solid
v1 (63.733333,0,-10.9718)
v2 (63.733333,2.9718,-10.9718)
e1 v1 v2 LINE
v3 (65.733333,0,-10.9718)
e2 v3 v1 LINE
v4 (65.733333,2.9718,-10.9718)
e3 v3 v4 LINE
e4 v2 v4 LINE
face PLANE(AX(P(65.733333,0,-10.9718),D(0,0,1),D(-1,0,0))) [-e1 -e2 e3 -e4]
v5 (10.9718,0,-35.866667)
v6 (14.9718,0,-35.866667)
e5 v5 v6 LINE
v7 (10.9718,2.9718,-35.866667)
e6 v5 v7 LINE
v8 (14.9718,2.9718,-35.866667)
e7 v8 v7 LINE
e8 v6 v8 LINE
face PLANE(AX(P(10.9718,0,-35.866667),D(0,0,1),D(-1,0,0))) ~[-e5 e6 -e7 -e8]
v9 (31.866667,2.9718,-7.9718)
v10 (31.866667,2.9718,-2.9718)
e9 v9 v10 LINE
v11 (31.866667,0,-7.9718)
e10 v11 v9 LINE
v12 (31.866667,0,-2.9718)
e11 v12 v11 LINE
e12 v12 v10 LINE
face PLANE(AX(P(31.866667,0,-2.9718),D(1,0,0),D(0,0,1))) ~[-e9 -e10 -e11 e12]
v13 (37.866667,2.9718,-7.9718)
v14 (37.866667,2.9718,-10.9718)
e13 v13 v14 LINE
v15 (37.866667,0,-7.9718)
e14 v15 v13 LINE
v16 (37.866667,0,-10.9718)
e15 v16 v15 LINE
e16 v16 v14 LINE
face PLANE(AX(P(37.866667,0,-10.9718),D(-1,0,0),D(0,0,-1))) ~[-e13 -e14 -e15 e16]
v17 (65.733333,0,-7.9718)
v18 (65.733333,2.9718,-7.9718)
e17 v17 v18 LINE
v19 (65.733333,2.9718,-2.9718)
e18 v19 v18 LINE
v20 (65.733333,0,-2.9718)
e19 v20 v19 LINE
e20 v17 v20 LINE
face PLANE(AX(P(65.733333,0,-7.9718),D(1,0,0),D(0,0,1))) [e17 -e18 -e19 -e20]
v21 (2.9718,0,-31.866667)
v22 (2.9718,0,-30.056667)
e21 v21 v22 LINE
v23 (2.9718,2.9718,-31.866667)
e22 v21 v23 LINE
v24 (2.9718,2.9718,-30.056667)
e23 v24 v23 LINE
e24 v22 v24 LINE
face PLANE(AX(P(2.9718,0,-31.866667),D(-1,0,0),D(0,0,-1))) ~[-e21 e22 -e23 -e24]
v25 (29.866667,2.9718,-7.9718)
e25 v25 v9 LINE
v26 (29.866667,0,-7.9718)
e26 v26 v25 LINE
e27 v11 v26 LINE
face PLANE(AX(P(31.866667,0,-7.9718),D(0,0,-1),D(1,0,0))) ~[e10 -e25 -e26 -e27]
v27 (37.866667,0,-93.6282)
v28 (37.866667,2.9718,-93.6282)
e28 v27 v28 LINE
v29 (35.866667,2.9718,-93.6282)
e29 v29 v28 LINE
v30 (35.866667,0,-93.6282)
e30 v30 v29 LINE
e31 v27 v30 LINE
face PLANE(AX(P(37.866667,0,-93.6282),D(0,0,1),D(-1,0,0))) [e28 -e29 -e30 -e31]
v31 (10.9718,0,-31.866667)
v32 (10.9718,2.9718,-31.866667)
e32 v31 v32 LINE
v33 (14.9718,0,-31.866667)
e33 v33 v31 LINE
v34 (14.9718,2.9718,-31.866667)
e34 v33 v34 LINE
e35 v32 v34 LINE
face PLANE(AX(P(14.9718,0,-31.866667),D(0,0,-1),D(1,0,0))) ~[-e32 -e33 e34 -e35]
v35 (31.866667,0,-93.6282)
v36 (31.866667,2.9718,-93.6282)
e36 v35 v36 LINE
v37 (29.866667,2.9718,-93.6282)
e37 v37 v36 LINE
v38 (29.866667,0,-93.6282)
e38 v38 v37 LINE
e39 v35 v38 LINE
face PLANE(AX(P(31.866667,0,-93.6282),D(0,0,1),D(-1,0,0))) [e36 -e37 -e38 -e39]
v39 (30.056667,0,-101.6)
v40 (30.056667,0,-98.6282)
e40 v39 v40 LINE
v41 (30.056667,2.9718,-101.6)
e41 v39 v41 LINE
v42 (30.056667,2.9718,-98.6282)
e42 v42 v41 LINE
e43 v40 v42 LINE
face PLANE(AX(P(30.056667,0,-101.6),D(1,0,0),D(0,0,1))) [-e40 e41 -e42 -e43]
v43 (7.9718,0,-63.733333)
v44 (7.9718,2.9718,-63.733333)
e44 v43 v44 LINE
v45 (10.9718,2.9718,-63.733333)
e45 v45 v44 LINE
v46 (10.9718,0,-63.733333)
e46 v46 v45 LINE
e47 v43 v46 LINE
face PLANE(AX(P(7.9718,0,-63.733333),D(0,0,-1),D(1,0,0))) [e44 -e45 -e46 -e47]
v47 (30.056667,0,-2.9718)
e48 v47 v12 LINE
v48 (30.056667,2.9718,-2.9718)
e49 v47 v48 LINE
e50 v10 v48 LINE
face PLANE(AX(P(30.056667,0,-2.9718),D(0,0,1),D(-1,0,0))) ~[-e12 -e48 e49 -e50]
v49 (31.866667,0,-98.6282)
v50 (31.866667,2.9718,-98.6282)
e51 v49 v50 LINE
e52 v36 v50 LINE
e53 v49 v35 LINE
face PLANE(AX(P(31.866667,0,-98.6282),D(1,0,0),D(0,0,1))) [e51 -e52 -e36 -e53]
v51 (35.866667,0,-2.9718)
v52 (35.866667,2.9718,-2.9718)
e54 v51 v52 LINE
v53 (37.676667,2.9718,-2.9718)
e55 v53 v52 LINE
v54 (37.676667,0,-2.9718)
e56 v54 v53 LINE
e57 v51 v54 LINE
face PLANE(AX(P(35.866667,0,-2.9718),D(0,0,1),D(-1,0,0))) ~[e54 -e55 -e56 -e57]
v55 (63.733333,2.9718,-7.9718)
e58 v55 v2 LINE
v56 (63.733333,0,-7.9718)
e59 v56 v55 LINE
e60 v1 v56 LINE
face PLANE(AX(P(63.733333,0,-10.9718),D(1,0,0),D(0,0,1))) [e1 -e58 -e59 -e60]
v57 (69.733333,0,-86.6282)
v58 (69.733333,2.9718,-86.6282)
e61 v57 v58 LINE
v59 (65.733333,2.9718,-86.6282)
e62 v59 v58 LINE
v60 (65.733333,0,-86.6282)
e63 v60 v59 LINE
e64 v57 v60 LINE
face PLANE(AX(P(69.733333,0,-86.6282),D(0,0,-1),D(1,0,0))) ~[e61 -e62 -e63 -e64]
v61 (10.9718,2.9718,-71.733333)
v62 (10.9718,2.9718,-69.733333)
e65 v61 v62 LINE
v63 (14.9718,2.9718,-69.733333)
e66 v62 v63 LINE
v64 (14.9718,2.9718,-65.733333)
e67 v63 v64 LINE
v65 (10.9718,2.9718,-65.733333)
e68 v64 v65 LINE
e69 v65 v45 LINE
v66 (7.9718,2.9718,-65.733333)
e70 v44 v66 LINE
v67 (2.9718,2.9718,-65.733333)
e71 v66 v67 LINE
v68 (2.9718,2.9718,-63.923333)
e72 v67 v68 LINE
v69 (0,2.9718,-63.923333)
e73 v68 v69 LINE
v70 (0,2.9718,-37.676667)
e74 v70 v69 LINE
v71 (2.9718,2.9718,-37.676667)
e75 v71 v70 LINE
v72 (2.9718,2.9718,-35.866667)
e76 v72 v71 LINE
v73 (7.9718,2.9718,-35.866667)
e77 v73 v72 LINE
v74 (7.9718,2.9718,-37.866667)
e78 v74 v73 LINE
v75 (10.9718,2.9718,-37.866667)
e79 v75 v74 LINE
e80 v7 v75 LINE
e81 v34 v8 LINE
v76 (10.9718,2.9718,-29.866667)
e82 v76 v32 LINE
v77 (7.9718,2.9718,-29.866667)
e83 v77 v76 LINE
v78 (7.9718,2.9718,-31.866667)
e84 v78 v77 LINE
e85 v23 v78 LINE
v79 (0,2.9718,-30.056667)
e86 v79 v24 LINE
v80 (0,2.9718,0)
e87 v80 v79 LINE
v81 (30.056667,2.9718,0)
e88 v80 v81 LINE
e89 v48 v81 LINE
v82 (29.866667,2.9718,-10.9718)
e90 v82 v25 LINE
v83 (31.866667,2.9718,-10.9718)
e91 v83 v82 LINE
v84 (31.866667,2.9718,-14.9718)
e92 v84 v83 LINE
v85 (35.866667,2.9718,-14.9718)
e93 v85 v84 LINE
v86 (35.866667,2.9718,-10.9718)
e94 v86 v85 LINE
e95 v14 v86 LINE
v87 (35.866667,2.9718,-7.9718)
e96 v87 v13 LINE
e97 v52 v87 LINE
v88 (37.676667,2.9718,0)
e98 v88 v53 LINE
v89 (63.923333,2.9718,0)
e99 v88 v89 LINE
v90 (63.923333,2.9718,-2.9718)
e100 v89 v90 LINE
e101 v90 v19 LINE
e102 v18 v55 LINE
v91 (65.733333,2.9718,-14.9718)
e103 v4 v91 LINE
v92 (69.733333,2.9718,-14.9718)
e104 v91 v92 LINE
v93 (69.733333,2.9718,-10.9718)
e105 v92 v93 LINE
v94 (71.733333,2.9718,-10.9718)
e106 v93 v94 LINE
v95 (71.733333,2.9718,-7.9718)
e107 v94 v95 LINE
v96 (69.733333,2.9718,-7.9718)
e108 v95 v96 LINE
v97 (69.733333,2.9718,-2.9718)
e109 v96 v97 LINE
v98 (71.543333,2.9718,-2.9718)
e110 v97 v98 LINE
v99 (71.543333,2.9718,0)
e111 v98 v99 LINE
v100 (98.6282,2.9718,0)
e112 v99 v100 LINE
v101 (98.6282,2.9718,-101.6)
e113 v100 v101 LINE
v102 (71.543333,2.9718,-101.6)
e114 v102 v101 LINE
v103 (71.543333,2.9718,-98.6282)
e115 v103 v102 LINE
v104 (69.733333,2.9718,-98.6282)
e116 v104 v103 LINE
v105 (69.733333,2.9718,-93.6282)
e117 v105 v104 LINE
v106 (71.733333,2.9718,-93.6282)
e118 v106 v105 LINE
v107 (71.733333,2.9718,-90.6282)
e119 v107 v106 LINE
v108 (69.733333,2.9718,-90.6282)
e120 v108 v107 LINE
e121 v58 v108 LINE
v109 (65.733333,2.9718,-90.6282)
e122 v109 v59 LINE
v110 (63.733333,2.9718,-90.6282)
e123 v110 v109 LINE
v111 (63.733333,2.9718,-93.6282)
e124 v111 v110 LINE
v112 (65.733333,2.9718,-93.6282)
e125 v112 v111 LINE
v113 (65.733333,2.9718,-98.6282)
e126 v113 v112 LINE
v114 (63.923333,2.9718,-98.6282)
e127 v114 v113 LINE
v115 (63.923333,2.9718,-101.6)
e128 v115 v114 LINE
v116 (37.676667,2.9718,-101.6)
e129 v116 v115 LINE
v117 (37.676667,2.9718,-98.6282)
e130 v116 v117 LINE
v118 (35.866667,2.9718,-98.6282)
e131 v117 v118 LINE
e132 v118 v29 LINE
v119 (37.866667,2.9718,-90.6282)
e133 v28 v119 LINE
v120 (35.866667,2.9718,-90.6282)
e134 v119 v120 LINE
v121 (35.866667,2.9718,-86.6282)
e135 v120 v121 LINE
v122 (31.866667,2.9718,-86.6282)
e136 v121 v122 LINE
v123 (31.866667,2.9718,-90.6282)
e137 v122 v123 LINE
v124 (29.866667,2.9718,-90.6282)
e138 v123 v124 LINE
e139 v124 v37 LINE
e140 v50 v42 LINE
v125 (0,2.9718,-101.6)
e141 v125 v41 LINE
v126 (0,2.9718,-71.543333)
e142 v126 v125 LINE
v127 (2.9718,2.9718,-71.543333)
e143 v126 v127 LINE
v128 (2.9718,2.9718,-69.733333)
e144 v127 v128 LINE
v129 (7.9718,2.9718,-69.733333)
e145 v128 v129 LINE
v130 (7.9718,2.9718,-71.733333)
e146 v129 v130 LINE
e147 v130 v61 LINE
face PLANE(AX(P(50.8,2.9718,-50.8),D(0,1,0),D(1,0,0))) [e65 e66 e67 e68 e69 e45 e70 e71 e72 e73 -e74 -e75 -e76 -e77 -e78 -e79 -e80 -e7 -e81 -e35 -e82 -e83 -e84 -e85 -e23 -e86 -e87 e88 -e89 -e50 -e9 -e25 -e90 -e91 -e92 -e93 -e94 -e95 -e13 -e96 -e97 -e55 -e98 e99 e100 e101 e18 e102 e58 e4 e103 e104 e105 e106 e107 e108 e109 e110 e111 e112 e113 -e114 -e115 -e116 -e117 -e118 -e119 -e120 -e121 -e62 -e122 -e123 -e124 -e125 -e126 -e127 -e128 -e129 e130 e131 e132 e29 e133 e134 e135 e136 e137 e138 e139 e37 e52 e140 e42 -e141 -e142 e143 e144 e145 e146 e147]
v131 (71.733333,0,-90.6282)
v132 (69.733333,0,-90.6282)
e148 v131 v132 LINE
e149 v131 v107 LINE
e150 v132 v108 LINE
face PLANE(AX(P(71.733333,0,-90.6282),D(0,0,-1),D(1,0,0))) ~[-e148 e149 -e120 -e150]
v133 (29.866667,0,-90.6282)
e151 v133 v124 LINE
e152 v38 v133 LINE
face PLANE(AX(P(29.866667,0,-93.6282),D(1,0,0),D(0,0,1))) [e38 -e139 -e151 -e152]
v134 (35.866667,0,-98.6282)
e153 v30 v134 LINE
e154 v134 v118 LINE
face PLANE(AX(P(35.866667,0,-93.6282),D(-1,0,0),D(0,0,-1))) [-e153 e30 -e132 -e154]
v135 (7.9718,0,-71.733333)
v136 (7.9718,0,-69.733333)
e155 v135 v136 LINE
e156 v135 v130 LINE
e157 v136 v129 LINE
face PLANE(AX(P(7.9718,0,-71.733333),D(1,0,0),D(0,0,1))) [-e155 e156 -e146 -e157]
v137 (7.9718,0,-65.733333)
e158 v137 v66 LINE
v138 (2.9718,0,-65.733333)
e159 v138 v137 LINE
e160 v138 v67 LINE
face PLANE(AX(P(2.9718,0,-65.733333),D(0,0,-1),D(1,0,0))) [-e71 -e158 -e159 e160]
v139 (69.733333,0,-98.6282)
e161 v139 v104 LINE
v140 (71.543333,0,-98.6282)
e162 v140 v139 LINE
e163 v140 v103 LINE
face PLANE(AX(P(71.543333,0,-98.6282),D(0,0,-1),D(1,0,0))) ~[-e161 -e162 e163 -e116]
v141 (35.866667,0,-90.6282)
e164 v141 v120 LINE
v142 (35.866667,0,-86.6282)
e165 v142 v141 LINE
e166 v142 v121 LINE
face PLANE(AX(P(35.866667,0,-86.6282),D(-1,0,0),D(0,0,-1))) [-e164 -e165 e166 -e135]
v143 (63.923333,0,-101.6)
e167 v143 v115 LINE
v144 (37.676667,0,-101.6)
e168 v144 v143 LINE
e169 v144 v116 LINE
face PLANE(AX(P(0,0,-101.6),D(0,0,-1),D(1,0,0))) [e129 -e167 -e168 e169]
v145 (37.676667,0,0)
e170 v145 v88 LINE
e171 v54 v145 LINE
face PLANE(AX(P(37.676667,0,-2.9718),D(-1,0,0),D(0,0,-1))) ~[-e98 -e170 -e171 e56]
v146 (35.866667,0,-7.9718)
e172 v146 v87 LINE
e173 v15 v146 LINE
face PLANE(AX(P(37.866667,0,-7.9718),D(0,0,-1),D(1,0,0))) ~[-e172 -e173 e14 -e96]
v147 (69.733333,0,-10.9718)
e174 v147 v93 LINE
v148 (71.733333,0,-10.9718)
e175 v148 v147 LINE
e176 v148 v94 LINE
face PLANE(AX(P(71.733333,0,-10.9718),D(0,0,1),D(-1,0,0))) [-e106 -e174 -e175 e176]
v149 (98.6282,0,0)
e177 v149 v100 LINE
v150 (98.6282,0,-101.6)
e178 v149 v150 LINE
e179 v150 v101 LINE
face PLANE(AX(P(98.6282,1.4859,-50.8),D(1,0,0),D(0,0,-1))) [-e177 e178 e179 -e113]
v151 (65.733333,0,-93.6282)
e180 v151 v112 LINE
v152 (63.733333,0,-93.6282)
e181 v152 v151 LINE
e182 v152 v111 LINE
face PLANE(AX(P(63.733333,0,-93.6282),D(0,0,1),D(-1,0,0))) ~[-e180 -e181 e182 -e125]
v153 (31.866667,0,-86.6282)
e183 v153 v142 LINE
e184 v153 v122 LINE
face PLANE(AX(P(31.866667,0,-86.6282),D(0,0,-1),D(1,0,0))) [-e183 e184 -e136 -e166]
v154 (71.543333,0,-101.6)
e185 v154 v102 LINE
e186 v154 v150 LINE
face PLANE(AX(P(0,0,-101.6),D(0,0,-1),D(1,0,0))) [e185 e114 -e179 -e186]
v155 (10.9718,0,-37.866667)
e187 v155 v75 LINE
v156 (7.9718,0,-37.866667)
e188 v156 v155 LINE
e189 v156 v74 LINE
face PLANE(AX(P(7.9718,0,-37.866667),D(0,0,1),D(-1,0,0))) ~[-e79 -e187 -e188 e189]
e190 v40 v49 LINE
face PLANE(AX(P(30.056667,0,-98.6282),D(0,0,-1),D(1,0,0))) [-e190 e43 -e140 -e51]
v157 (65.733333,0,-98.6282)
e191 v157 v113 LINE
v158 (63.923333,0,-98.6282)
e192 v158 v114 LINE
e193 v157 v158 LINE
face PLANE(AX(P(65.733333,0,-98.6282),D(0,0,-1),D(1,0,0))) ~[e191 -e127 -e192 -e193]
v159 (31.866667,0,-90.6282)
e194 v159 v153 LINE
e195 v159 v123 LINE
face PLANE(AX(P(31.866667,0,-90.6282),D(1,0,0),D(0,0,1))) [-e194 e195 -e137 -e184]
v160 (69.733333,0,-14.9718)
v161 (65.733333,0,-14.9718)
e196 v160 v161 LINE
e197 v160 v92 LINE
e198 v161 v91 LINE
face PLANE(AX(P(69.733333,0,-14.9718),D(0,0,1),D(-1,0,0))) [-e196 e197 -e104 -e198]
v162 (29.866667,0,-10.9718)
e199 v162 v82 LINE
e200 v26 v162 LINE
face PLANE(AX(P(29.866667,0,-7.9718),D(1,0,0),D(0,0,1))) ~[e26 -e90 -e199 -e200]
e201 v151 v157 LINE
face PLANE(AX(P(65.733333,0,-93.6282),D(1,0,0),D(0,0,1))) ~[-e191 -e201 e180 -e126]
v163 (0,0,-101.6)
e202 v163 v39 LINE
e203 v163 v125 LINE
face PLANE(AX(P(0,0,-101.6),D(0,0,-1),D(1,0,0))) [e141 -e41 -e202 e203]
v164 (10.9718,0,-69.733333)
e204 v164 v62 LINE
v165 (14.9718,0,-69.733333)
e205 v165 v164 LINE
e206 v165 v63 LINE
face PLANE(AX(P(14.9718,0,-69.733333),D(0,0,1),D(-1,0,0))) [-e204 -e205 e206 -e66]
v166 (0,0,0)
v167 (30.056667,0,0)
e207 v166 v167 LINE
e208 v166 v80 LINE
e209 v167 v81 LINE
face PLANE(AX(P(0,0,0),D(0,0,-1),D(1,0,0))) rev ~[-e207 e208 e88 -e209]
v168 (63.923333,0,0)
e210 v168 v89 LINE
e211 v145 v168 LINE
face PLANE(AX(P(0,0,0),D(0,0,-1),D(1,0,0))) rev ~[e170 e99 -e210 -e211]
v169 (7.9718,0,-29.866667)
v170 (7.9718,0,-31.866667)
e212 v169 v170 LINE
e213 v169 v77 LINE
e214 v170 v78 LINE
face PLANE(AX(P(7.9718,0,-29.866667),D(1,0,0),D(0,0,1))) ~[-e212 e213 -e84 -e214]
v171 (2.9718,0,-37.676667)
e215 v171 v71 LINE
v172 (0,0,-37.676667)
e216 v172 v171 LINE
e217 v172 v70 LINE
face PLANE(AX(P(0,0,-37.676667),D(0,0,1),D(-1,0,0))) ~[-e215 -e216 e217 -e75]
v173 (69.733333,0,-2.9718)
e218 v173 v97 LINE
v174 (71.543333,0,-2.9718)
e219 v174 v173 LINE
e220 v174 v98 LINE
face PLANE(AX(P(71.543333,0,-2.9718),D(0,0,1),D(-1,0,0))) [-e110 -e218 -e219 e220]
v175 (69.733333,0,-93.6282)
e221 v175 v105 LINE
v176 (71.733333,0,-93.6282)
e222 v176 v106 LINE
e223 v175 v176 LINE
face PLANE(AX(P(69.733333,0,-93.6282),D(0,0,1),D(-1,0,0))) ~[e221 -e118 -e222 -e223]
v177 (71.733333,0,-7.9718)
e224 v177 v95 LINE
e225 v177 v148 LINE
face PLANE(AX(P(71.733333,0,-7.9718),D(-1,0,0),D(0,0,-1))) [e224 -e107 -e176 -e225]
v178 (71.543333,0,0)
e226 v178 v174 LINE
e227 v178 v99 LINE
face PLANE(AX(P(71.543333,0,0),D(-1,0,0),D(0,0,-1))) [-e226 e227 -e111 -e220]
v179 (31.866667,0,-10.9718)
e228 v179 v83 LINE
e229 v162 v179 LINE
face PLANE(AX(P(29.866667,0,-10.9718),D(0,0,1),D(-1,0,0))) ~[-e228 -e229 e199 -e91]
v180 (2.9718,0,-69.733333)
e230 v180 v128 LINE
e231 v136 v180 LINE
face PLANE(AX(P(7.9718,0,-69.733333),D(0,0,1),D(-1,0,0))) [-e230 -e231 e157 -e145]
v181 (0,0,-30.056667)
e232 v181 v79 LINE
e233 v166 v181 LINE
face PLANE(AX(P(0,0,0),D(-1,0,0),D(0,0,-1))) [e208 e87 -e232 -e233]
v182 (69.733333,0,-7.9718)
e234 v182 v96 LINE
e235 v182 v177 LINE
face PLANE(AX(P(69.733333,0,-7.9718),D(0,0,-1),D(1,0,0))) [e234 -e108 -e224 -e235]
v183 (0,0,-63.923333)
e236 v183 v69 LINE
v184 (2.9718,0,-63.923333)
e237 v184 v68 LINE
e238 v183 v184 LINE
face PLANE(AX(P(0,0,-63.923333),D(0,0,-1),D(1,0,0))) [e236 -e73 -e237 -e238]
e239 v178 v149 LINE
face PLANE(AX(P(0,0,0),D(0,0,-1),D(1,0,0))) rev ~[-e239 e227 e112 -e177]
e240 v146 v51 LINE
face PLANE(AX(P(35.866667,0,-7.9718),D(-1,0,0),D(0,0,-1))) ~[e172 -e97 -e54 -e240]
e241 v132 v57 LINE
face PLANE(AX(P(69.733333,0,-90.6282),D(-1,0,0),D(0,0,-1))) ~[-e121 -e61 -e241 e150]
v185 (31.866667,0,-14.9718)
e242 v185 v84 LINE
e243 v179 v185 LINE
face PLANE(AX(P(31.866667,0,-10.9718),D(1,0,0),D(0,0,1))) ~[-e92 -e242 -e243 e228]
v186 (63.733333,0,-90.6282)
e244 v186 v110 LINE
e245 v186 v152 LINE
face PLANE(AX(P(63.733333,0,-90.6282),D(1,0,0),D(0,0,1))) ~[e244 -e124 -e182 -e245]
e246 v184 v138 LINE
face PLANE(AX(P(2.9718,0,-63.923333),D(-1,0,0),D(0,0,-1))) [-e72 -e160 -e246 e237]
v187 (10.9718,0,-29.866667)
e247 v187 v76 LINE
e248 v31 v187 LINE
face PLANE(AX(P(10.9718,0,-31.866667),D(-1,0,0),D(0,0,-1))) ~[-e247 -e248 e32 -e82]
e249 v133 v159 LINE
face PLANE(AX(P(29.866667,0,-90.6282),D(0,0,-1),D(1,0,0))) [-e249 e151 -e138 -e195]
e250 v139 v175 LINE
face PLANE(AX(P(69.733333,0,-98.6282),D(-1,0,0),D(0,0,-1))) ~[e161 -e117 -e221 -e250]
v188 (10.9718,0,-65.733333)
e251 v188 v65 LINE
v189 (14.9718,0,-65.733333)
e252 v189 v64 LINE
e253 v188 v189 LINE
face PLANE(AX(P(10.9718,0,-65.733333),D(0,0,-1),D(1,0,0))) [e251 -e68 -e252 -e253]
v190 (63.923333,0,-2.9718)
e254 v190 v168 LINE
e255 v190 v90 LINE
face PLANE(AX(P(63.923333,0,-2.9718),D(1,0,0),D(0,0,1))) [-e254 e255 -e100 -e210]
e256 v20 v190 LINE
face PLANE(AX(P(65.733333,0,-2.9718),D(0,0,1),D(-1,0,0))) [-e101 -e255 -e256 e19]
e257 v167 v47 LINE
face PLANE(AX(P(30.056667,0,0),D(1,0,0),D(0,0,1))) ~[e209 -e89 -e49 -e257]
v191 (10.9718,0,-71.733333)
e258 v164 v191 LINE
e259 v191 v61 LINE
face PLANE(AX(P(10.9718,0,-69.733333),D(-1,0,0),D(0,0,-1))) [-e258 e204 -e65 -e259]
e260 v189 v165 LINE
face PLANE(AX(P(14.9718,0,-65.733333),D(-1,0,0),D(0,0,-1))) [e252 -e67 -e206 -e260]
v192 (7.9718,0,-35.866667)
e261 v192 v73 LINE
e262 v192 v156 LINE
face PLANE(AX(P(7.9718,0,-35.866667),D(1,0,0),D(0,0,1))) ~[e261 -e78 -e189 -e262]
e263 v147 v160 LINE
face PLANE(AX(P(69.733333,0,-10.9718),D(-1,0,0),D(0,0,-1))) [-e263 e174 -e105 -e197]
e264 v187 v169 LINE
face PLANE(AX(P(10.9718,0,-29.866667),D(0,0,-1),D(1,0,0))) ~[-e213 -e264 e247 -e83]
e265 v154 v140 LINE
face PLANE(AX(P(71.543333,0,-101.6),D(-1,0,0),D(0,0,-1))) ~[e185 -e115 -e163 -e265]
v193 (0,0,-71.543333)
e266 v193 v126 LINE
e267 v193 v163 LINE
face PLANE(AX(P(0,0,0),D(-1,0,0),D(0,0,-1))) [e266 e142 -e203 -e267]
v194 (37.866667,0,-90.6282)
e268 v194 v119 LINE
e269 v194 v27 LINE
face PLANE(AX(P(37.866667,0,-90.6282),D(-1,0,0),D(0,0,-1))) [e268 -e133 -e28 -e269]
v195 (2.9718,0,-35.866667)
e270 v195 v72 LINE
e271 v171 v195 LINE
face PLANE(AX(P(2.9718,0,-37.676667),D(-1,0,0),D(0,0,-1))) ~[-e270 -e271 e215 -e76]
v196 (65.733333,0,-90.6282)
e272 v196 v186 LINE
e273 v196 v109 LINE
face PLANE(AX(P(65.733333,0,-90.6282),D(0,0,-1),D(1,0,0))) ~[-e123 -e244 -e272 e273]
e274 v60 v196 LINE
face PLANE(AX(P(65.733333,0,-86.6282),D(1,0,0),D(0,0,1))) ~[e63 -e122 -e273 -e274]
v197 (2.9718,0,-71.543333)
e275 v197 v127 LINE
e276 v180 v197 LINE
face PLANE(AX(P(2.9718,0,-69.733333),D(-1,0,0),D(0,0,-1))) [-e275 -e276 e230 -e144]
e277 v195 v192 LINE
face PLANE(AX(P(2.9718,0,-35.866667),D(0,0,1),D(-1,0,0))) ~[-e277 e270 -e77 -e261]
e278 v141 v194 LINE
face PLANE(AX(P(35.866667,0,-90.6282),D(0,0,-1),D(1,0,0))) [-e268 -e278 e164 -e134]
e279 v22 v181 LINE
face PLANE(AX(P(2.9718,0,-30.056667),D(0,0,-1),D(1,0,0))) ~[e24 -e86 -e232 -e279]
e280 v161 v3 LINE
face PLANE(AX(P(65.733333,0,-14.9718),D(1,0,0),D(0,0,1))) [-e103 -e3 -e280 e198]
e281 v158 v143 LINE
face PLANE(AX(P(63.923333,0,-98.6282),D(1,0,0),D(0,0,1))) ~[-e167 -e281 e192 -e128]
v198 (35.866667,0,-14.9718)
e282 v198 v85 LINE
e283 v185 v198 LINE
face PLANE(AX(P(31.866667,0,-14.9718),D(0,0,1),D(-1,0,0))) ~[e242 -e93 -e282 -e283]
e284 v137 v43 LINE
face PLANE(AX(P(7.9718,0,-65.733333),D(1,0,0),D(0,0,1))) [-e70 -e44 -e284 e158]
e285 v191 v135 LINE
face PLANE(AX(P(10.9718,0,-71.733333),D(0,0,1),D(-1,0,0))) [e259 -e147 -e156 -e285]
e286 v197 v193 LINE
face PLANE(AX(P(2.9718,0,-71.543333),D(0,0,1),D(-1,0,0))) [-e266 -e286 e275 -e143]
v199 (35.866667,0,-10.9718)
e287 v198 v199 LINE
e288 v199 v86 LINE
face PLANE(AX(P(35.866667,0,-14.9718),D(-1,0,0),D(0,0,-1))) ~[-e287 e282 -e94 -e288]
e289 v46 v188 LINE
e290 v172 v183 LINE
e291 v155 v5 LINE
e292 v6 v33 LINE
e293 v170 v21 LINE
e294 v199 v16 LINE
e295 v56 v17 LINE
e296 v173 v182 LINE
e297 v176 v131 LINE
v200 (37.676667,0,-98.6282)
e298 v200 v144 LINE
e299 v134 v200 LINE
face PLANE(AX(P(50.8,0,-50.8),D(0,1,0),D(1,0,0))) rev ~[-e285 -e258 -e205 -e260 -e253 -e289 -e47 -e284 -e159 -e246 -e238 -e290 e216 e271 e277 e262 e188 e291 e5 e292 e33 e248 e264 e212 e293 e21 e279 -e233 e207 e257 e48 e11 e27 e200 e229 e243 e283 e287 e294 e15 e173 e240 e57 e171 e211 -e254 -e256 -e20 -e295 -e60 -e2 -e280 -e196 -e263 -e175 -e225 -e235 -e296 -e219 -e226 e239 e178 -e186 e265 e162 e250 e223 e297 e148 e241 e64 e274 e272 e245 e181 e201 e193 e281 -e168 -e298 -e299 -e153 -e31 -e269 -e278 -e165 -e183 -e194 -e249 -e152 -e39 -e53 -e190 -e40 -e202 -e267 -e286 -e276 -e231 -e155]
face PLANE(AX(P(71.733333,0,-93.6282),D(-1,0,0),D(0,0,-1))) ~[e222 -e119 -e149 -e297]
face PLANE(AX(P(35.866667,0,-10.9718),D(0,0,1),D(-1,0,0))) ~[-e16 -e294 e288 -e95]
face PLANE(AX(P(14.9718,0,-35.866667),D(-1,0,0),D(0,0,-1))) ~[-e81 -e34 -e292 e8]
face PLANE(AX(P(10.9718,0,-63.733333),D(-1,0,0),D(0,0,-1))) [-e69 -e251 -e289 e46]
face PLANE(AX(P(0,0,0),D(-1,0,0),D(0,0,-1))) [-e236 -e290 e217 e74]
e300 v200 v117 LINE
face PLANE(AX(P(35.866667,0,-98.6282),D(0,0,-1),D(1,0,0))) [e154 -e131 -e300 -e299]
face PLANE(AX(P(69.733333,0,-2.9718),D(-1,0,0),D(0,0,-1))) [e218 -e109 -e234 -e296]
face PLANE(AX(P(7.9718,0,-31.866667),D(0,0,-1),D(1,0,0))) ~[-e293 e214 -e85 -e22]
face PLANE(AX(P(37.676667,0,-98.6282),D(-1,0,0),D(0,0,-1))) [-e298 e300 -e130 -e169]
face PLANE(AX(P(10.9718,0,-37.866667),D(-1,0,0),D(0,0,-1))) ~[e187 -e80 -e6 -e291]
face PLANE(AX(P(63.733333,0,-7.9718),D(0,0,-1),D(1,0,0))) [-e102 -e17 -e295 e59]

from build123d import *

# Parameters (mm, degrees)
SKETCH_1_W            = 101.6
SKETCH_1_H            = 101.6
EXTRUDE_1_DEPTH       = 2.9718
CUT_EXTRUDE_1_DEPTH   = 144.714827333
MIRROR_2_COPY_1_DEPTH = 144.714827333
CUT_EXTRUDE_3_DEPTH   = 144.714827333
SKETCH_2_W            = 101.6
SKETCH_2_H            = 2.9718
CUT_EXTRUDE_4_DEPTH   = 2.9718


with BuildPart() as part:
    # 草图1 → 凸台-拉伸1 (new body)
    with BuildSketch(Plane(origin=(0, 0, 0), x_dir=(1, 0, 0), z_dir=(0, 1, 0))):
        with Locations((50.8, 50.8)):
            Rectangle(SKETCH_1_W, SKETCH_1_H)
    extrude(amount=EXTRUDE_1_DEPTH)

    # 草图1<3> → 切除-拉伸1 (cut, through all)
    with BuildSketch(Plane(origin=(0, 0, 0), x_dir=(1, 0, 0), z_dir=(0, 1, 0))):
        Polygon((37.676666667, 98.6282), (37.676666667, 101.6), (30.056666667, 101.6), (30.056666667, 98.6282), (31.866666667, 98.6282), (31.866666667, 93.6282), (29.866666667, 93.6282), (29.866666667, 90.6282), (31.866666667, 90.6282), (31.866666667, 86.6282), (35.866666667, 86.6282), (35.866666667, 90.6282), (37.866666667, 90.6282), (37.866666667, 93.6282), (35.866666667, 93.6282), (35.866666667, 98.6282), align=None)
    cut_extrude_1 = extrude(amount=CUT_EXTRUDE_1_DEPTH, mode=Mode.SUBTRACT)

    # 镜向1: 切除-拉伸1 across plane
    add(cut_extrude_1.mirror(Plane(origin=(0, 0, -50.8), x_dir=(1, 0, 0), z_dir=(0, 0, -1))), mode=Mode.SUBTRACT)

    # 镜向2: 切除-拉伸1 across plane
    add(cut_extrude_1.mirror(Plane(origin=(50.8, 0, 0), x_dir=(0, 0, 1), z_dir=(1, 0, 0))), mode=Mode.SUBTRACT)

    # 镜向2 copy 1 sketch → 镜向2 copy 1 (cut, through all)
    with BuildSketch(Plane(origin=(101.6, 0, -101.6), x_dir=(-1, 0, 0), z_dir=(0, 1, 0))):
        Polygon((37.676666667, 98.6282), (37.676666667, 101.6), (30.056666667, 101.6), (30.056666667, 98.6282), (31.866666667, 98.6282), (31.866666667, 93.6282), (29.866666667, 93.6282), (29.866666667, 90.6282), (31.866666667, 90.6282), (31.866666667, 86.6282), (35.866666667, 86.6282), (35.866666667, 90.6282), (37.866666667, 90.6282), (37.866666667, 93.6282), (35.866666667, 93.6282), (35.866666667, 98.6282), align=None)
    extrude(amount=MIRROR_2_COPY_1_DEPTH, mode=Mode.SUBTRACT)

    # 草图1<4> → 切除-拉伸3 (cut, through all)
    with BuildSketch(Plane(origin=(0, 0, 0), x_dir=(1, 0, 0), z_dir=(0, 1, 0))):
        Polygon((0, 71.543333333), (0, 63.923333333), (2.9718, 63.923333333), (2.9718, 65.733333333), (7.9718, 65.733333333), (7.9718, 63.733333333), (10.9718, 63.733333333), (10.9718, 65.733333333), (14.9718, 65.733333333), (14.9718, 69.733333333), (10.9718, 69.733333333), (10.9718, 71.733333333), (7.9718, 71.733333333), (7.9718, 69.733333333), (2.9718, 69.733333333), (2.9718, 71.543333333), align=None)
    cut_extrude_3 = extrude(amount=CUT_EXTRUDE_3_DEPTH, mode=Mode.SUBTRACT)

    # 镜向3: 切除-拉伸3 across plane
    add(cut_extrude_3.mirror(Plane(origin=(0, 0, -50.8), x_dir=(1, 0, 0), z_dir=(0, 0, -1))), mode=Mode.SUBTRACT)

    # 草图2 → 切除-拉伸4 (cut)
    with BuildSketch(Plane(origin=(101.6, 0, 0), x_dir=(0, 0, -1), z_dir=(1, 0, 0))):
        with Locations((50.8, 1.4859)):
            Rectangle(SKETCH_2_W, SKETCH_2_H)
    extrude(amount=-CUT_EXTRUDE_4_DEPTH, mode=Mode.SUBTRACT)


solid = part.part
